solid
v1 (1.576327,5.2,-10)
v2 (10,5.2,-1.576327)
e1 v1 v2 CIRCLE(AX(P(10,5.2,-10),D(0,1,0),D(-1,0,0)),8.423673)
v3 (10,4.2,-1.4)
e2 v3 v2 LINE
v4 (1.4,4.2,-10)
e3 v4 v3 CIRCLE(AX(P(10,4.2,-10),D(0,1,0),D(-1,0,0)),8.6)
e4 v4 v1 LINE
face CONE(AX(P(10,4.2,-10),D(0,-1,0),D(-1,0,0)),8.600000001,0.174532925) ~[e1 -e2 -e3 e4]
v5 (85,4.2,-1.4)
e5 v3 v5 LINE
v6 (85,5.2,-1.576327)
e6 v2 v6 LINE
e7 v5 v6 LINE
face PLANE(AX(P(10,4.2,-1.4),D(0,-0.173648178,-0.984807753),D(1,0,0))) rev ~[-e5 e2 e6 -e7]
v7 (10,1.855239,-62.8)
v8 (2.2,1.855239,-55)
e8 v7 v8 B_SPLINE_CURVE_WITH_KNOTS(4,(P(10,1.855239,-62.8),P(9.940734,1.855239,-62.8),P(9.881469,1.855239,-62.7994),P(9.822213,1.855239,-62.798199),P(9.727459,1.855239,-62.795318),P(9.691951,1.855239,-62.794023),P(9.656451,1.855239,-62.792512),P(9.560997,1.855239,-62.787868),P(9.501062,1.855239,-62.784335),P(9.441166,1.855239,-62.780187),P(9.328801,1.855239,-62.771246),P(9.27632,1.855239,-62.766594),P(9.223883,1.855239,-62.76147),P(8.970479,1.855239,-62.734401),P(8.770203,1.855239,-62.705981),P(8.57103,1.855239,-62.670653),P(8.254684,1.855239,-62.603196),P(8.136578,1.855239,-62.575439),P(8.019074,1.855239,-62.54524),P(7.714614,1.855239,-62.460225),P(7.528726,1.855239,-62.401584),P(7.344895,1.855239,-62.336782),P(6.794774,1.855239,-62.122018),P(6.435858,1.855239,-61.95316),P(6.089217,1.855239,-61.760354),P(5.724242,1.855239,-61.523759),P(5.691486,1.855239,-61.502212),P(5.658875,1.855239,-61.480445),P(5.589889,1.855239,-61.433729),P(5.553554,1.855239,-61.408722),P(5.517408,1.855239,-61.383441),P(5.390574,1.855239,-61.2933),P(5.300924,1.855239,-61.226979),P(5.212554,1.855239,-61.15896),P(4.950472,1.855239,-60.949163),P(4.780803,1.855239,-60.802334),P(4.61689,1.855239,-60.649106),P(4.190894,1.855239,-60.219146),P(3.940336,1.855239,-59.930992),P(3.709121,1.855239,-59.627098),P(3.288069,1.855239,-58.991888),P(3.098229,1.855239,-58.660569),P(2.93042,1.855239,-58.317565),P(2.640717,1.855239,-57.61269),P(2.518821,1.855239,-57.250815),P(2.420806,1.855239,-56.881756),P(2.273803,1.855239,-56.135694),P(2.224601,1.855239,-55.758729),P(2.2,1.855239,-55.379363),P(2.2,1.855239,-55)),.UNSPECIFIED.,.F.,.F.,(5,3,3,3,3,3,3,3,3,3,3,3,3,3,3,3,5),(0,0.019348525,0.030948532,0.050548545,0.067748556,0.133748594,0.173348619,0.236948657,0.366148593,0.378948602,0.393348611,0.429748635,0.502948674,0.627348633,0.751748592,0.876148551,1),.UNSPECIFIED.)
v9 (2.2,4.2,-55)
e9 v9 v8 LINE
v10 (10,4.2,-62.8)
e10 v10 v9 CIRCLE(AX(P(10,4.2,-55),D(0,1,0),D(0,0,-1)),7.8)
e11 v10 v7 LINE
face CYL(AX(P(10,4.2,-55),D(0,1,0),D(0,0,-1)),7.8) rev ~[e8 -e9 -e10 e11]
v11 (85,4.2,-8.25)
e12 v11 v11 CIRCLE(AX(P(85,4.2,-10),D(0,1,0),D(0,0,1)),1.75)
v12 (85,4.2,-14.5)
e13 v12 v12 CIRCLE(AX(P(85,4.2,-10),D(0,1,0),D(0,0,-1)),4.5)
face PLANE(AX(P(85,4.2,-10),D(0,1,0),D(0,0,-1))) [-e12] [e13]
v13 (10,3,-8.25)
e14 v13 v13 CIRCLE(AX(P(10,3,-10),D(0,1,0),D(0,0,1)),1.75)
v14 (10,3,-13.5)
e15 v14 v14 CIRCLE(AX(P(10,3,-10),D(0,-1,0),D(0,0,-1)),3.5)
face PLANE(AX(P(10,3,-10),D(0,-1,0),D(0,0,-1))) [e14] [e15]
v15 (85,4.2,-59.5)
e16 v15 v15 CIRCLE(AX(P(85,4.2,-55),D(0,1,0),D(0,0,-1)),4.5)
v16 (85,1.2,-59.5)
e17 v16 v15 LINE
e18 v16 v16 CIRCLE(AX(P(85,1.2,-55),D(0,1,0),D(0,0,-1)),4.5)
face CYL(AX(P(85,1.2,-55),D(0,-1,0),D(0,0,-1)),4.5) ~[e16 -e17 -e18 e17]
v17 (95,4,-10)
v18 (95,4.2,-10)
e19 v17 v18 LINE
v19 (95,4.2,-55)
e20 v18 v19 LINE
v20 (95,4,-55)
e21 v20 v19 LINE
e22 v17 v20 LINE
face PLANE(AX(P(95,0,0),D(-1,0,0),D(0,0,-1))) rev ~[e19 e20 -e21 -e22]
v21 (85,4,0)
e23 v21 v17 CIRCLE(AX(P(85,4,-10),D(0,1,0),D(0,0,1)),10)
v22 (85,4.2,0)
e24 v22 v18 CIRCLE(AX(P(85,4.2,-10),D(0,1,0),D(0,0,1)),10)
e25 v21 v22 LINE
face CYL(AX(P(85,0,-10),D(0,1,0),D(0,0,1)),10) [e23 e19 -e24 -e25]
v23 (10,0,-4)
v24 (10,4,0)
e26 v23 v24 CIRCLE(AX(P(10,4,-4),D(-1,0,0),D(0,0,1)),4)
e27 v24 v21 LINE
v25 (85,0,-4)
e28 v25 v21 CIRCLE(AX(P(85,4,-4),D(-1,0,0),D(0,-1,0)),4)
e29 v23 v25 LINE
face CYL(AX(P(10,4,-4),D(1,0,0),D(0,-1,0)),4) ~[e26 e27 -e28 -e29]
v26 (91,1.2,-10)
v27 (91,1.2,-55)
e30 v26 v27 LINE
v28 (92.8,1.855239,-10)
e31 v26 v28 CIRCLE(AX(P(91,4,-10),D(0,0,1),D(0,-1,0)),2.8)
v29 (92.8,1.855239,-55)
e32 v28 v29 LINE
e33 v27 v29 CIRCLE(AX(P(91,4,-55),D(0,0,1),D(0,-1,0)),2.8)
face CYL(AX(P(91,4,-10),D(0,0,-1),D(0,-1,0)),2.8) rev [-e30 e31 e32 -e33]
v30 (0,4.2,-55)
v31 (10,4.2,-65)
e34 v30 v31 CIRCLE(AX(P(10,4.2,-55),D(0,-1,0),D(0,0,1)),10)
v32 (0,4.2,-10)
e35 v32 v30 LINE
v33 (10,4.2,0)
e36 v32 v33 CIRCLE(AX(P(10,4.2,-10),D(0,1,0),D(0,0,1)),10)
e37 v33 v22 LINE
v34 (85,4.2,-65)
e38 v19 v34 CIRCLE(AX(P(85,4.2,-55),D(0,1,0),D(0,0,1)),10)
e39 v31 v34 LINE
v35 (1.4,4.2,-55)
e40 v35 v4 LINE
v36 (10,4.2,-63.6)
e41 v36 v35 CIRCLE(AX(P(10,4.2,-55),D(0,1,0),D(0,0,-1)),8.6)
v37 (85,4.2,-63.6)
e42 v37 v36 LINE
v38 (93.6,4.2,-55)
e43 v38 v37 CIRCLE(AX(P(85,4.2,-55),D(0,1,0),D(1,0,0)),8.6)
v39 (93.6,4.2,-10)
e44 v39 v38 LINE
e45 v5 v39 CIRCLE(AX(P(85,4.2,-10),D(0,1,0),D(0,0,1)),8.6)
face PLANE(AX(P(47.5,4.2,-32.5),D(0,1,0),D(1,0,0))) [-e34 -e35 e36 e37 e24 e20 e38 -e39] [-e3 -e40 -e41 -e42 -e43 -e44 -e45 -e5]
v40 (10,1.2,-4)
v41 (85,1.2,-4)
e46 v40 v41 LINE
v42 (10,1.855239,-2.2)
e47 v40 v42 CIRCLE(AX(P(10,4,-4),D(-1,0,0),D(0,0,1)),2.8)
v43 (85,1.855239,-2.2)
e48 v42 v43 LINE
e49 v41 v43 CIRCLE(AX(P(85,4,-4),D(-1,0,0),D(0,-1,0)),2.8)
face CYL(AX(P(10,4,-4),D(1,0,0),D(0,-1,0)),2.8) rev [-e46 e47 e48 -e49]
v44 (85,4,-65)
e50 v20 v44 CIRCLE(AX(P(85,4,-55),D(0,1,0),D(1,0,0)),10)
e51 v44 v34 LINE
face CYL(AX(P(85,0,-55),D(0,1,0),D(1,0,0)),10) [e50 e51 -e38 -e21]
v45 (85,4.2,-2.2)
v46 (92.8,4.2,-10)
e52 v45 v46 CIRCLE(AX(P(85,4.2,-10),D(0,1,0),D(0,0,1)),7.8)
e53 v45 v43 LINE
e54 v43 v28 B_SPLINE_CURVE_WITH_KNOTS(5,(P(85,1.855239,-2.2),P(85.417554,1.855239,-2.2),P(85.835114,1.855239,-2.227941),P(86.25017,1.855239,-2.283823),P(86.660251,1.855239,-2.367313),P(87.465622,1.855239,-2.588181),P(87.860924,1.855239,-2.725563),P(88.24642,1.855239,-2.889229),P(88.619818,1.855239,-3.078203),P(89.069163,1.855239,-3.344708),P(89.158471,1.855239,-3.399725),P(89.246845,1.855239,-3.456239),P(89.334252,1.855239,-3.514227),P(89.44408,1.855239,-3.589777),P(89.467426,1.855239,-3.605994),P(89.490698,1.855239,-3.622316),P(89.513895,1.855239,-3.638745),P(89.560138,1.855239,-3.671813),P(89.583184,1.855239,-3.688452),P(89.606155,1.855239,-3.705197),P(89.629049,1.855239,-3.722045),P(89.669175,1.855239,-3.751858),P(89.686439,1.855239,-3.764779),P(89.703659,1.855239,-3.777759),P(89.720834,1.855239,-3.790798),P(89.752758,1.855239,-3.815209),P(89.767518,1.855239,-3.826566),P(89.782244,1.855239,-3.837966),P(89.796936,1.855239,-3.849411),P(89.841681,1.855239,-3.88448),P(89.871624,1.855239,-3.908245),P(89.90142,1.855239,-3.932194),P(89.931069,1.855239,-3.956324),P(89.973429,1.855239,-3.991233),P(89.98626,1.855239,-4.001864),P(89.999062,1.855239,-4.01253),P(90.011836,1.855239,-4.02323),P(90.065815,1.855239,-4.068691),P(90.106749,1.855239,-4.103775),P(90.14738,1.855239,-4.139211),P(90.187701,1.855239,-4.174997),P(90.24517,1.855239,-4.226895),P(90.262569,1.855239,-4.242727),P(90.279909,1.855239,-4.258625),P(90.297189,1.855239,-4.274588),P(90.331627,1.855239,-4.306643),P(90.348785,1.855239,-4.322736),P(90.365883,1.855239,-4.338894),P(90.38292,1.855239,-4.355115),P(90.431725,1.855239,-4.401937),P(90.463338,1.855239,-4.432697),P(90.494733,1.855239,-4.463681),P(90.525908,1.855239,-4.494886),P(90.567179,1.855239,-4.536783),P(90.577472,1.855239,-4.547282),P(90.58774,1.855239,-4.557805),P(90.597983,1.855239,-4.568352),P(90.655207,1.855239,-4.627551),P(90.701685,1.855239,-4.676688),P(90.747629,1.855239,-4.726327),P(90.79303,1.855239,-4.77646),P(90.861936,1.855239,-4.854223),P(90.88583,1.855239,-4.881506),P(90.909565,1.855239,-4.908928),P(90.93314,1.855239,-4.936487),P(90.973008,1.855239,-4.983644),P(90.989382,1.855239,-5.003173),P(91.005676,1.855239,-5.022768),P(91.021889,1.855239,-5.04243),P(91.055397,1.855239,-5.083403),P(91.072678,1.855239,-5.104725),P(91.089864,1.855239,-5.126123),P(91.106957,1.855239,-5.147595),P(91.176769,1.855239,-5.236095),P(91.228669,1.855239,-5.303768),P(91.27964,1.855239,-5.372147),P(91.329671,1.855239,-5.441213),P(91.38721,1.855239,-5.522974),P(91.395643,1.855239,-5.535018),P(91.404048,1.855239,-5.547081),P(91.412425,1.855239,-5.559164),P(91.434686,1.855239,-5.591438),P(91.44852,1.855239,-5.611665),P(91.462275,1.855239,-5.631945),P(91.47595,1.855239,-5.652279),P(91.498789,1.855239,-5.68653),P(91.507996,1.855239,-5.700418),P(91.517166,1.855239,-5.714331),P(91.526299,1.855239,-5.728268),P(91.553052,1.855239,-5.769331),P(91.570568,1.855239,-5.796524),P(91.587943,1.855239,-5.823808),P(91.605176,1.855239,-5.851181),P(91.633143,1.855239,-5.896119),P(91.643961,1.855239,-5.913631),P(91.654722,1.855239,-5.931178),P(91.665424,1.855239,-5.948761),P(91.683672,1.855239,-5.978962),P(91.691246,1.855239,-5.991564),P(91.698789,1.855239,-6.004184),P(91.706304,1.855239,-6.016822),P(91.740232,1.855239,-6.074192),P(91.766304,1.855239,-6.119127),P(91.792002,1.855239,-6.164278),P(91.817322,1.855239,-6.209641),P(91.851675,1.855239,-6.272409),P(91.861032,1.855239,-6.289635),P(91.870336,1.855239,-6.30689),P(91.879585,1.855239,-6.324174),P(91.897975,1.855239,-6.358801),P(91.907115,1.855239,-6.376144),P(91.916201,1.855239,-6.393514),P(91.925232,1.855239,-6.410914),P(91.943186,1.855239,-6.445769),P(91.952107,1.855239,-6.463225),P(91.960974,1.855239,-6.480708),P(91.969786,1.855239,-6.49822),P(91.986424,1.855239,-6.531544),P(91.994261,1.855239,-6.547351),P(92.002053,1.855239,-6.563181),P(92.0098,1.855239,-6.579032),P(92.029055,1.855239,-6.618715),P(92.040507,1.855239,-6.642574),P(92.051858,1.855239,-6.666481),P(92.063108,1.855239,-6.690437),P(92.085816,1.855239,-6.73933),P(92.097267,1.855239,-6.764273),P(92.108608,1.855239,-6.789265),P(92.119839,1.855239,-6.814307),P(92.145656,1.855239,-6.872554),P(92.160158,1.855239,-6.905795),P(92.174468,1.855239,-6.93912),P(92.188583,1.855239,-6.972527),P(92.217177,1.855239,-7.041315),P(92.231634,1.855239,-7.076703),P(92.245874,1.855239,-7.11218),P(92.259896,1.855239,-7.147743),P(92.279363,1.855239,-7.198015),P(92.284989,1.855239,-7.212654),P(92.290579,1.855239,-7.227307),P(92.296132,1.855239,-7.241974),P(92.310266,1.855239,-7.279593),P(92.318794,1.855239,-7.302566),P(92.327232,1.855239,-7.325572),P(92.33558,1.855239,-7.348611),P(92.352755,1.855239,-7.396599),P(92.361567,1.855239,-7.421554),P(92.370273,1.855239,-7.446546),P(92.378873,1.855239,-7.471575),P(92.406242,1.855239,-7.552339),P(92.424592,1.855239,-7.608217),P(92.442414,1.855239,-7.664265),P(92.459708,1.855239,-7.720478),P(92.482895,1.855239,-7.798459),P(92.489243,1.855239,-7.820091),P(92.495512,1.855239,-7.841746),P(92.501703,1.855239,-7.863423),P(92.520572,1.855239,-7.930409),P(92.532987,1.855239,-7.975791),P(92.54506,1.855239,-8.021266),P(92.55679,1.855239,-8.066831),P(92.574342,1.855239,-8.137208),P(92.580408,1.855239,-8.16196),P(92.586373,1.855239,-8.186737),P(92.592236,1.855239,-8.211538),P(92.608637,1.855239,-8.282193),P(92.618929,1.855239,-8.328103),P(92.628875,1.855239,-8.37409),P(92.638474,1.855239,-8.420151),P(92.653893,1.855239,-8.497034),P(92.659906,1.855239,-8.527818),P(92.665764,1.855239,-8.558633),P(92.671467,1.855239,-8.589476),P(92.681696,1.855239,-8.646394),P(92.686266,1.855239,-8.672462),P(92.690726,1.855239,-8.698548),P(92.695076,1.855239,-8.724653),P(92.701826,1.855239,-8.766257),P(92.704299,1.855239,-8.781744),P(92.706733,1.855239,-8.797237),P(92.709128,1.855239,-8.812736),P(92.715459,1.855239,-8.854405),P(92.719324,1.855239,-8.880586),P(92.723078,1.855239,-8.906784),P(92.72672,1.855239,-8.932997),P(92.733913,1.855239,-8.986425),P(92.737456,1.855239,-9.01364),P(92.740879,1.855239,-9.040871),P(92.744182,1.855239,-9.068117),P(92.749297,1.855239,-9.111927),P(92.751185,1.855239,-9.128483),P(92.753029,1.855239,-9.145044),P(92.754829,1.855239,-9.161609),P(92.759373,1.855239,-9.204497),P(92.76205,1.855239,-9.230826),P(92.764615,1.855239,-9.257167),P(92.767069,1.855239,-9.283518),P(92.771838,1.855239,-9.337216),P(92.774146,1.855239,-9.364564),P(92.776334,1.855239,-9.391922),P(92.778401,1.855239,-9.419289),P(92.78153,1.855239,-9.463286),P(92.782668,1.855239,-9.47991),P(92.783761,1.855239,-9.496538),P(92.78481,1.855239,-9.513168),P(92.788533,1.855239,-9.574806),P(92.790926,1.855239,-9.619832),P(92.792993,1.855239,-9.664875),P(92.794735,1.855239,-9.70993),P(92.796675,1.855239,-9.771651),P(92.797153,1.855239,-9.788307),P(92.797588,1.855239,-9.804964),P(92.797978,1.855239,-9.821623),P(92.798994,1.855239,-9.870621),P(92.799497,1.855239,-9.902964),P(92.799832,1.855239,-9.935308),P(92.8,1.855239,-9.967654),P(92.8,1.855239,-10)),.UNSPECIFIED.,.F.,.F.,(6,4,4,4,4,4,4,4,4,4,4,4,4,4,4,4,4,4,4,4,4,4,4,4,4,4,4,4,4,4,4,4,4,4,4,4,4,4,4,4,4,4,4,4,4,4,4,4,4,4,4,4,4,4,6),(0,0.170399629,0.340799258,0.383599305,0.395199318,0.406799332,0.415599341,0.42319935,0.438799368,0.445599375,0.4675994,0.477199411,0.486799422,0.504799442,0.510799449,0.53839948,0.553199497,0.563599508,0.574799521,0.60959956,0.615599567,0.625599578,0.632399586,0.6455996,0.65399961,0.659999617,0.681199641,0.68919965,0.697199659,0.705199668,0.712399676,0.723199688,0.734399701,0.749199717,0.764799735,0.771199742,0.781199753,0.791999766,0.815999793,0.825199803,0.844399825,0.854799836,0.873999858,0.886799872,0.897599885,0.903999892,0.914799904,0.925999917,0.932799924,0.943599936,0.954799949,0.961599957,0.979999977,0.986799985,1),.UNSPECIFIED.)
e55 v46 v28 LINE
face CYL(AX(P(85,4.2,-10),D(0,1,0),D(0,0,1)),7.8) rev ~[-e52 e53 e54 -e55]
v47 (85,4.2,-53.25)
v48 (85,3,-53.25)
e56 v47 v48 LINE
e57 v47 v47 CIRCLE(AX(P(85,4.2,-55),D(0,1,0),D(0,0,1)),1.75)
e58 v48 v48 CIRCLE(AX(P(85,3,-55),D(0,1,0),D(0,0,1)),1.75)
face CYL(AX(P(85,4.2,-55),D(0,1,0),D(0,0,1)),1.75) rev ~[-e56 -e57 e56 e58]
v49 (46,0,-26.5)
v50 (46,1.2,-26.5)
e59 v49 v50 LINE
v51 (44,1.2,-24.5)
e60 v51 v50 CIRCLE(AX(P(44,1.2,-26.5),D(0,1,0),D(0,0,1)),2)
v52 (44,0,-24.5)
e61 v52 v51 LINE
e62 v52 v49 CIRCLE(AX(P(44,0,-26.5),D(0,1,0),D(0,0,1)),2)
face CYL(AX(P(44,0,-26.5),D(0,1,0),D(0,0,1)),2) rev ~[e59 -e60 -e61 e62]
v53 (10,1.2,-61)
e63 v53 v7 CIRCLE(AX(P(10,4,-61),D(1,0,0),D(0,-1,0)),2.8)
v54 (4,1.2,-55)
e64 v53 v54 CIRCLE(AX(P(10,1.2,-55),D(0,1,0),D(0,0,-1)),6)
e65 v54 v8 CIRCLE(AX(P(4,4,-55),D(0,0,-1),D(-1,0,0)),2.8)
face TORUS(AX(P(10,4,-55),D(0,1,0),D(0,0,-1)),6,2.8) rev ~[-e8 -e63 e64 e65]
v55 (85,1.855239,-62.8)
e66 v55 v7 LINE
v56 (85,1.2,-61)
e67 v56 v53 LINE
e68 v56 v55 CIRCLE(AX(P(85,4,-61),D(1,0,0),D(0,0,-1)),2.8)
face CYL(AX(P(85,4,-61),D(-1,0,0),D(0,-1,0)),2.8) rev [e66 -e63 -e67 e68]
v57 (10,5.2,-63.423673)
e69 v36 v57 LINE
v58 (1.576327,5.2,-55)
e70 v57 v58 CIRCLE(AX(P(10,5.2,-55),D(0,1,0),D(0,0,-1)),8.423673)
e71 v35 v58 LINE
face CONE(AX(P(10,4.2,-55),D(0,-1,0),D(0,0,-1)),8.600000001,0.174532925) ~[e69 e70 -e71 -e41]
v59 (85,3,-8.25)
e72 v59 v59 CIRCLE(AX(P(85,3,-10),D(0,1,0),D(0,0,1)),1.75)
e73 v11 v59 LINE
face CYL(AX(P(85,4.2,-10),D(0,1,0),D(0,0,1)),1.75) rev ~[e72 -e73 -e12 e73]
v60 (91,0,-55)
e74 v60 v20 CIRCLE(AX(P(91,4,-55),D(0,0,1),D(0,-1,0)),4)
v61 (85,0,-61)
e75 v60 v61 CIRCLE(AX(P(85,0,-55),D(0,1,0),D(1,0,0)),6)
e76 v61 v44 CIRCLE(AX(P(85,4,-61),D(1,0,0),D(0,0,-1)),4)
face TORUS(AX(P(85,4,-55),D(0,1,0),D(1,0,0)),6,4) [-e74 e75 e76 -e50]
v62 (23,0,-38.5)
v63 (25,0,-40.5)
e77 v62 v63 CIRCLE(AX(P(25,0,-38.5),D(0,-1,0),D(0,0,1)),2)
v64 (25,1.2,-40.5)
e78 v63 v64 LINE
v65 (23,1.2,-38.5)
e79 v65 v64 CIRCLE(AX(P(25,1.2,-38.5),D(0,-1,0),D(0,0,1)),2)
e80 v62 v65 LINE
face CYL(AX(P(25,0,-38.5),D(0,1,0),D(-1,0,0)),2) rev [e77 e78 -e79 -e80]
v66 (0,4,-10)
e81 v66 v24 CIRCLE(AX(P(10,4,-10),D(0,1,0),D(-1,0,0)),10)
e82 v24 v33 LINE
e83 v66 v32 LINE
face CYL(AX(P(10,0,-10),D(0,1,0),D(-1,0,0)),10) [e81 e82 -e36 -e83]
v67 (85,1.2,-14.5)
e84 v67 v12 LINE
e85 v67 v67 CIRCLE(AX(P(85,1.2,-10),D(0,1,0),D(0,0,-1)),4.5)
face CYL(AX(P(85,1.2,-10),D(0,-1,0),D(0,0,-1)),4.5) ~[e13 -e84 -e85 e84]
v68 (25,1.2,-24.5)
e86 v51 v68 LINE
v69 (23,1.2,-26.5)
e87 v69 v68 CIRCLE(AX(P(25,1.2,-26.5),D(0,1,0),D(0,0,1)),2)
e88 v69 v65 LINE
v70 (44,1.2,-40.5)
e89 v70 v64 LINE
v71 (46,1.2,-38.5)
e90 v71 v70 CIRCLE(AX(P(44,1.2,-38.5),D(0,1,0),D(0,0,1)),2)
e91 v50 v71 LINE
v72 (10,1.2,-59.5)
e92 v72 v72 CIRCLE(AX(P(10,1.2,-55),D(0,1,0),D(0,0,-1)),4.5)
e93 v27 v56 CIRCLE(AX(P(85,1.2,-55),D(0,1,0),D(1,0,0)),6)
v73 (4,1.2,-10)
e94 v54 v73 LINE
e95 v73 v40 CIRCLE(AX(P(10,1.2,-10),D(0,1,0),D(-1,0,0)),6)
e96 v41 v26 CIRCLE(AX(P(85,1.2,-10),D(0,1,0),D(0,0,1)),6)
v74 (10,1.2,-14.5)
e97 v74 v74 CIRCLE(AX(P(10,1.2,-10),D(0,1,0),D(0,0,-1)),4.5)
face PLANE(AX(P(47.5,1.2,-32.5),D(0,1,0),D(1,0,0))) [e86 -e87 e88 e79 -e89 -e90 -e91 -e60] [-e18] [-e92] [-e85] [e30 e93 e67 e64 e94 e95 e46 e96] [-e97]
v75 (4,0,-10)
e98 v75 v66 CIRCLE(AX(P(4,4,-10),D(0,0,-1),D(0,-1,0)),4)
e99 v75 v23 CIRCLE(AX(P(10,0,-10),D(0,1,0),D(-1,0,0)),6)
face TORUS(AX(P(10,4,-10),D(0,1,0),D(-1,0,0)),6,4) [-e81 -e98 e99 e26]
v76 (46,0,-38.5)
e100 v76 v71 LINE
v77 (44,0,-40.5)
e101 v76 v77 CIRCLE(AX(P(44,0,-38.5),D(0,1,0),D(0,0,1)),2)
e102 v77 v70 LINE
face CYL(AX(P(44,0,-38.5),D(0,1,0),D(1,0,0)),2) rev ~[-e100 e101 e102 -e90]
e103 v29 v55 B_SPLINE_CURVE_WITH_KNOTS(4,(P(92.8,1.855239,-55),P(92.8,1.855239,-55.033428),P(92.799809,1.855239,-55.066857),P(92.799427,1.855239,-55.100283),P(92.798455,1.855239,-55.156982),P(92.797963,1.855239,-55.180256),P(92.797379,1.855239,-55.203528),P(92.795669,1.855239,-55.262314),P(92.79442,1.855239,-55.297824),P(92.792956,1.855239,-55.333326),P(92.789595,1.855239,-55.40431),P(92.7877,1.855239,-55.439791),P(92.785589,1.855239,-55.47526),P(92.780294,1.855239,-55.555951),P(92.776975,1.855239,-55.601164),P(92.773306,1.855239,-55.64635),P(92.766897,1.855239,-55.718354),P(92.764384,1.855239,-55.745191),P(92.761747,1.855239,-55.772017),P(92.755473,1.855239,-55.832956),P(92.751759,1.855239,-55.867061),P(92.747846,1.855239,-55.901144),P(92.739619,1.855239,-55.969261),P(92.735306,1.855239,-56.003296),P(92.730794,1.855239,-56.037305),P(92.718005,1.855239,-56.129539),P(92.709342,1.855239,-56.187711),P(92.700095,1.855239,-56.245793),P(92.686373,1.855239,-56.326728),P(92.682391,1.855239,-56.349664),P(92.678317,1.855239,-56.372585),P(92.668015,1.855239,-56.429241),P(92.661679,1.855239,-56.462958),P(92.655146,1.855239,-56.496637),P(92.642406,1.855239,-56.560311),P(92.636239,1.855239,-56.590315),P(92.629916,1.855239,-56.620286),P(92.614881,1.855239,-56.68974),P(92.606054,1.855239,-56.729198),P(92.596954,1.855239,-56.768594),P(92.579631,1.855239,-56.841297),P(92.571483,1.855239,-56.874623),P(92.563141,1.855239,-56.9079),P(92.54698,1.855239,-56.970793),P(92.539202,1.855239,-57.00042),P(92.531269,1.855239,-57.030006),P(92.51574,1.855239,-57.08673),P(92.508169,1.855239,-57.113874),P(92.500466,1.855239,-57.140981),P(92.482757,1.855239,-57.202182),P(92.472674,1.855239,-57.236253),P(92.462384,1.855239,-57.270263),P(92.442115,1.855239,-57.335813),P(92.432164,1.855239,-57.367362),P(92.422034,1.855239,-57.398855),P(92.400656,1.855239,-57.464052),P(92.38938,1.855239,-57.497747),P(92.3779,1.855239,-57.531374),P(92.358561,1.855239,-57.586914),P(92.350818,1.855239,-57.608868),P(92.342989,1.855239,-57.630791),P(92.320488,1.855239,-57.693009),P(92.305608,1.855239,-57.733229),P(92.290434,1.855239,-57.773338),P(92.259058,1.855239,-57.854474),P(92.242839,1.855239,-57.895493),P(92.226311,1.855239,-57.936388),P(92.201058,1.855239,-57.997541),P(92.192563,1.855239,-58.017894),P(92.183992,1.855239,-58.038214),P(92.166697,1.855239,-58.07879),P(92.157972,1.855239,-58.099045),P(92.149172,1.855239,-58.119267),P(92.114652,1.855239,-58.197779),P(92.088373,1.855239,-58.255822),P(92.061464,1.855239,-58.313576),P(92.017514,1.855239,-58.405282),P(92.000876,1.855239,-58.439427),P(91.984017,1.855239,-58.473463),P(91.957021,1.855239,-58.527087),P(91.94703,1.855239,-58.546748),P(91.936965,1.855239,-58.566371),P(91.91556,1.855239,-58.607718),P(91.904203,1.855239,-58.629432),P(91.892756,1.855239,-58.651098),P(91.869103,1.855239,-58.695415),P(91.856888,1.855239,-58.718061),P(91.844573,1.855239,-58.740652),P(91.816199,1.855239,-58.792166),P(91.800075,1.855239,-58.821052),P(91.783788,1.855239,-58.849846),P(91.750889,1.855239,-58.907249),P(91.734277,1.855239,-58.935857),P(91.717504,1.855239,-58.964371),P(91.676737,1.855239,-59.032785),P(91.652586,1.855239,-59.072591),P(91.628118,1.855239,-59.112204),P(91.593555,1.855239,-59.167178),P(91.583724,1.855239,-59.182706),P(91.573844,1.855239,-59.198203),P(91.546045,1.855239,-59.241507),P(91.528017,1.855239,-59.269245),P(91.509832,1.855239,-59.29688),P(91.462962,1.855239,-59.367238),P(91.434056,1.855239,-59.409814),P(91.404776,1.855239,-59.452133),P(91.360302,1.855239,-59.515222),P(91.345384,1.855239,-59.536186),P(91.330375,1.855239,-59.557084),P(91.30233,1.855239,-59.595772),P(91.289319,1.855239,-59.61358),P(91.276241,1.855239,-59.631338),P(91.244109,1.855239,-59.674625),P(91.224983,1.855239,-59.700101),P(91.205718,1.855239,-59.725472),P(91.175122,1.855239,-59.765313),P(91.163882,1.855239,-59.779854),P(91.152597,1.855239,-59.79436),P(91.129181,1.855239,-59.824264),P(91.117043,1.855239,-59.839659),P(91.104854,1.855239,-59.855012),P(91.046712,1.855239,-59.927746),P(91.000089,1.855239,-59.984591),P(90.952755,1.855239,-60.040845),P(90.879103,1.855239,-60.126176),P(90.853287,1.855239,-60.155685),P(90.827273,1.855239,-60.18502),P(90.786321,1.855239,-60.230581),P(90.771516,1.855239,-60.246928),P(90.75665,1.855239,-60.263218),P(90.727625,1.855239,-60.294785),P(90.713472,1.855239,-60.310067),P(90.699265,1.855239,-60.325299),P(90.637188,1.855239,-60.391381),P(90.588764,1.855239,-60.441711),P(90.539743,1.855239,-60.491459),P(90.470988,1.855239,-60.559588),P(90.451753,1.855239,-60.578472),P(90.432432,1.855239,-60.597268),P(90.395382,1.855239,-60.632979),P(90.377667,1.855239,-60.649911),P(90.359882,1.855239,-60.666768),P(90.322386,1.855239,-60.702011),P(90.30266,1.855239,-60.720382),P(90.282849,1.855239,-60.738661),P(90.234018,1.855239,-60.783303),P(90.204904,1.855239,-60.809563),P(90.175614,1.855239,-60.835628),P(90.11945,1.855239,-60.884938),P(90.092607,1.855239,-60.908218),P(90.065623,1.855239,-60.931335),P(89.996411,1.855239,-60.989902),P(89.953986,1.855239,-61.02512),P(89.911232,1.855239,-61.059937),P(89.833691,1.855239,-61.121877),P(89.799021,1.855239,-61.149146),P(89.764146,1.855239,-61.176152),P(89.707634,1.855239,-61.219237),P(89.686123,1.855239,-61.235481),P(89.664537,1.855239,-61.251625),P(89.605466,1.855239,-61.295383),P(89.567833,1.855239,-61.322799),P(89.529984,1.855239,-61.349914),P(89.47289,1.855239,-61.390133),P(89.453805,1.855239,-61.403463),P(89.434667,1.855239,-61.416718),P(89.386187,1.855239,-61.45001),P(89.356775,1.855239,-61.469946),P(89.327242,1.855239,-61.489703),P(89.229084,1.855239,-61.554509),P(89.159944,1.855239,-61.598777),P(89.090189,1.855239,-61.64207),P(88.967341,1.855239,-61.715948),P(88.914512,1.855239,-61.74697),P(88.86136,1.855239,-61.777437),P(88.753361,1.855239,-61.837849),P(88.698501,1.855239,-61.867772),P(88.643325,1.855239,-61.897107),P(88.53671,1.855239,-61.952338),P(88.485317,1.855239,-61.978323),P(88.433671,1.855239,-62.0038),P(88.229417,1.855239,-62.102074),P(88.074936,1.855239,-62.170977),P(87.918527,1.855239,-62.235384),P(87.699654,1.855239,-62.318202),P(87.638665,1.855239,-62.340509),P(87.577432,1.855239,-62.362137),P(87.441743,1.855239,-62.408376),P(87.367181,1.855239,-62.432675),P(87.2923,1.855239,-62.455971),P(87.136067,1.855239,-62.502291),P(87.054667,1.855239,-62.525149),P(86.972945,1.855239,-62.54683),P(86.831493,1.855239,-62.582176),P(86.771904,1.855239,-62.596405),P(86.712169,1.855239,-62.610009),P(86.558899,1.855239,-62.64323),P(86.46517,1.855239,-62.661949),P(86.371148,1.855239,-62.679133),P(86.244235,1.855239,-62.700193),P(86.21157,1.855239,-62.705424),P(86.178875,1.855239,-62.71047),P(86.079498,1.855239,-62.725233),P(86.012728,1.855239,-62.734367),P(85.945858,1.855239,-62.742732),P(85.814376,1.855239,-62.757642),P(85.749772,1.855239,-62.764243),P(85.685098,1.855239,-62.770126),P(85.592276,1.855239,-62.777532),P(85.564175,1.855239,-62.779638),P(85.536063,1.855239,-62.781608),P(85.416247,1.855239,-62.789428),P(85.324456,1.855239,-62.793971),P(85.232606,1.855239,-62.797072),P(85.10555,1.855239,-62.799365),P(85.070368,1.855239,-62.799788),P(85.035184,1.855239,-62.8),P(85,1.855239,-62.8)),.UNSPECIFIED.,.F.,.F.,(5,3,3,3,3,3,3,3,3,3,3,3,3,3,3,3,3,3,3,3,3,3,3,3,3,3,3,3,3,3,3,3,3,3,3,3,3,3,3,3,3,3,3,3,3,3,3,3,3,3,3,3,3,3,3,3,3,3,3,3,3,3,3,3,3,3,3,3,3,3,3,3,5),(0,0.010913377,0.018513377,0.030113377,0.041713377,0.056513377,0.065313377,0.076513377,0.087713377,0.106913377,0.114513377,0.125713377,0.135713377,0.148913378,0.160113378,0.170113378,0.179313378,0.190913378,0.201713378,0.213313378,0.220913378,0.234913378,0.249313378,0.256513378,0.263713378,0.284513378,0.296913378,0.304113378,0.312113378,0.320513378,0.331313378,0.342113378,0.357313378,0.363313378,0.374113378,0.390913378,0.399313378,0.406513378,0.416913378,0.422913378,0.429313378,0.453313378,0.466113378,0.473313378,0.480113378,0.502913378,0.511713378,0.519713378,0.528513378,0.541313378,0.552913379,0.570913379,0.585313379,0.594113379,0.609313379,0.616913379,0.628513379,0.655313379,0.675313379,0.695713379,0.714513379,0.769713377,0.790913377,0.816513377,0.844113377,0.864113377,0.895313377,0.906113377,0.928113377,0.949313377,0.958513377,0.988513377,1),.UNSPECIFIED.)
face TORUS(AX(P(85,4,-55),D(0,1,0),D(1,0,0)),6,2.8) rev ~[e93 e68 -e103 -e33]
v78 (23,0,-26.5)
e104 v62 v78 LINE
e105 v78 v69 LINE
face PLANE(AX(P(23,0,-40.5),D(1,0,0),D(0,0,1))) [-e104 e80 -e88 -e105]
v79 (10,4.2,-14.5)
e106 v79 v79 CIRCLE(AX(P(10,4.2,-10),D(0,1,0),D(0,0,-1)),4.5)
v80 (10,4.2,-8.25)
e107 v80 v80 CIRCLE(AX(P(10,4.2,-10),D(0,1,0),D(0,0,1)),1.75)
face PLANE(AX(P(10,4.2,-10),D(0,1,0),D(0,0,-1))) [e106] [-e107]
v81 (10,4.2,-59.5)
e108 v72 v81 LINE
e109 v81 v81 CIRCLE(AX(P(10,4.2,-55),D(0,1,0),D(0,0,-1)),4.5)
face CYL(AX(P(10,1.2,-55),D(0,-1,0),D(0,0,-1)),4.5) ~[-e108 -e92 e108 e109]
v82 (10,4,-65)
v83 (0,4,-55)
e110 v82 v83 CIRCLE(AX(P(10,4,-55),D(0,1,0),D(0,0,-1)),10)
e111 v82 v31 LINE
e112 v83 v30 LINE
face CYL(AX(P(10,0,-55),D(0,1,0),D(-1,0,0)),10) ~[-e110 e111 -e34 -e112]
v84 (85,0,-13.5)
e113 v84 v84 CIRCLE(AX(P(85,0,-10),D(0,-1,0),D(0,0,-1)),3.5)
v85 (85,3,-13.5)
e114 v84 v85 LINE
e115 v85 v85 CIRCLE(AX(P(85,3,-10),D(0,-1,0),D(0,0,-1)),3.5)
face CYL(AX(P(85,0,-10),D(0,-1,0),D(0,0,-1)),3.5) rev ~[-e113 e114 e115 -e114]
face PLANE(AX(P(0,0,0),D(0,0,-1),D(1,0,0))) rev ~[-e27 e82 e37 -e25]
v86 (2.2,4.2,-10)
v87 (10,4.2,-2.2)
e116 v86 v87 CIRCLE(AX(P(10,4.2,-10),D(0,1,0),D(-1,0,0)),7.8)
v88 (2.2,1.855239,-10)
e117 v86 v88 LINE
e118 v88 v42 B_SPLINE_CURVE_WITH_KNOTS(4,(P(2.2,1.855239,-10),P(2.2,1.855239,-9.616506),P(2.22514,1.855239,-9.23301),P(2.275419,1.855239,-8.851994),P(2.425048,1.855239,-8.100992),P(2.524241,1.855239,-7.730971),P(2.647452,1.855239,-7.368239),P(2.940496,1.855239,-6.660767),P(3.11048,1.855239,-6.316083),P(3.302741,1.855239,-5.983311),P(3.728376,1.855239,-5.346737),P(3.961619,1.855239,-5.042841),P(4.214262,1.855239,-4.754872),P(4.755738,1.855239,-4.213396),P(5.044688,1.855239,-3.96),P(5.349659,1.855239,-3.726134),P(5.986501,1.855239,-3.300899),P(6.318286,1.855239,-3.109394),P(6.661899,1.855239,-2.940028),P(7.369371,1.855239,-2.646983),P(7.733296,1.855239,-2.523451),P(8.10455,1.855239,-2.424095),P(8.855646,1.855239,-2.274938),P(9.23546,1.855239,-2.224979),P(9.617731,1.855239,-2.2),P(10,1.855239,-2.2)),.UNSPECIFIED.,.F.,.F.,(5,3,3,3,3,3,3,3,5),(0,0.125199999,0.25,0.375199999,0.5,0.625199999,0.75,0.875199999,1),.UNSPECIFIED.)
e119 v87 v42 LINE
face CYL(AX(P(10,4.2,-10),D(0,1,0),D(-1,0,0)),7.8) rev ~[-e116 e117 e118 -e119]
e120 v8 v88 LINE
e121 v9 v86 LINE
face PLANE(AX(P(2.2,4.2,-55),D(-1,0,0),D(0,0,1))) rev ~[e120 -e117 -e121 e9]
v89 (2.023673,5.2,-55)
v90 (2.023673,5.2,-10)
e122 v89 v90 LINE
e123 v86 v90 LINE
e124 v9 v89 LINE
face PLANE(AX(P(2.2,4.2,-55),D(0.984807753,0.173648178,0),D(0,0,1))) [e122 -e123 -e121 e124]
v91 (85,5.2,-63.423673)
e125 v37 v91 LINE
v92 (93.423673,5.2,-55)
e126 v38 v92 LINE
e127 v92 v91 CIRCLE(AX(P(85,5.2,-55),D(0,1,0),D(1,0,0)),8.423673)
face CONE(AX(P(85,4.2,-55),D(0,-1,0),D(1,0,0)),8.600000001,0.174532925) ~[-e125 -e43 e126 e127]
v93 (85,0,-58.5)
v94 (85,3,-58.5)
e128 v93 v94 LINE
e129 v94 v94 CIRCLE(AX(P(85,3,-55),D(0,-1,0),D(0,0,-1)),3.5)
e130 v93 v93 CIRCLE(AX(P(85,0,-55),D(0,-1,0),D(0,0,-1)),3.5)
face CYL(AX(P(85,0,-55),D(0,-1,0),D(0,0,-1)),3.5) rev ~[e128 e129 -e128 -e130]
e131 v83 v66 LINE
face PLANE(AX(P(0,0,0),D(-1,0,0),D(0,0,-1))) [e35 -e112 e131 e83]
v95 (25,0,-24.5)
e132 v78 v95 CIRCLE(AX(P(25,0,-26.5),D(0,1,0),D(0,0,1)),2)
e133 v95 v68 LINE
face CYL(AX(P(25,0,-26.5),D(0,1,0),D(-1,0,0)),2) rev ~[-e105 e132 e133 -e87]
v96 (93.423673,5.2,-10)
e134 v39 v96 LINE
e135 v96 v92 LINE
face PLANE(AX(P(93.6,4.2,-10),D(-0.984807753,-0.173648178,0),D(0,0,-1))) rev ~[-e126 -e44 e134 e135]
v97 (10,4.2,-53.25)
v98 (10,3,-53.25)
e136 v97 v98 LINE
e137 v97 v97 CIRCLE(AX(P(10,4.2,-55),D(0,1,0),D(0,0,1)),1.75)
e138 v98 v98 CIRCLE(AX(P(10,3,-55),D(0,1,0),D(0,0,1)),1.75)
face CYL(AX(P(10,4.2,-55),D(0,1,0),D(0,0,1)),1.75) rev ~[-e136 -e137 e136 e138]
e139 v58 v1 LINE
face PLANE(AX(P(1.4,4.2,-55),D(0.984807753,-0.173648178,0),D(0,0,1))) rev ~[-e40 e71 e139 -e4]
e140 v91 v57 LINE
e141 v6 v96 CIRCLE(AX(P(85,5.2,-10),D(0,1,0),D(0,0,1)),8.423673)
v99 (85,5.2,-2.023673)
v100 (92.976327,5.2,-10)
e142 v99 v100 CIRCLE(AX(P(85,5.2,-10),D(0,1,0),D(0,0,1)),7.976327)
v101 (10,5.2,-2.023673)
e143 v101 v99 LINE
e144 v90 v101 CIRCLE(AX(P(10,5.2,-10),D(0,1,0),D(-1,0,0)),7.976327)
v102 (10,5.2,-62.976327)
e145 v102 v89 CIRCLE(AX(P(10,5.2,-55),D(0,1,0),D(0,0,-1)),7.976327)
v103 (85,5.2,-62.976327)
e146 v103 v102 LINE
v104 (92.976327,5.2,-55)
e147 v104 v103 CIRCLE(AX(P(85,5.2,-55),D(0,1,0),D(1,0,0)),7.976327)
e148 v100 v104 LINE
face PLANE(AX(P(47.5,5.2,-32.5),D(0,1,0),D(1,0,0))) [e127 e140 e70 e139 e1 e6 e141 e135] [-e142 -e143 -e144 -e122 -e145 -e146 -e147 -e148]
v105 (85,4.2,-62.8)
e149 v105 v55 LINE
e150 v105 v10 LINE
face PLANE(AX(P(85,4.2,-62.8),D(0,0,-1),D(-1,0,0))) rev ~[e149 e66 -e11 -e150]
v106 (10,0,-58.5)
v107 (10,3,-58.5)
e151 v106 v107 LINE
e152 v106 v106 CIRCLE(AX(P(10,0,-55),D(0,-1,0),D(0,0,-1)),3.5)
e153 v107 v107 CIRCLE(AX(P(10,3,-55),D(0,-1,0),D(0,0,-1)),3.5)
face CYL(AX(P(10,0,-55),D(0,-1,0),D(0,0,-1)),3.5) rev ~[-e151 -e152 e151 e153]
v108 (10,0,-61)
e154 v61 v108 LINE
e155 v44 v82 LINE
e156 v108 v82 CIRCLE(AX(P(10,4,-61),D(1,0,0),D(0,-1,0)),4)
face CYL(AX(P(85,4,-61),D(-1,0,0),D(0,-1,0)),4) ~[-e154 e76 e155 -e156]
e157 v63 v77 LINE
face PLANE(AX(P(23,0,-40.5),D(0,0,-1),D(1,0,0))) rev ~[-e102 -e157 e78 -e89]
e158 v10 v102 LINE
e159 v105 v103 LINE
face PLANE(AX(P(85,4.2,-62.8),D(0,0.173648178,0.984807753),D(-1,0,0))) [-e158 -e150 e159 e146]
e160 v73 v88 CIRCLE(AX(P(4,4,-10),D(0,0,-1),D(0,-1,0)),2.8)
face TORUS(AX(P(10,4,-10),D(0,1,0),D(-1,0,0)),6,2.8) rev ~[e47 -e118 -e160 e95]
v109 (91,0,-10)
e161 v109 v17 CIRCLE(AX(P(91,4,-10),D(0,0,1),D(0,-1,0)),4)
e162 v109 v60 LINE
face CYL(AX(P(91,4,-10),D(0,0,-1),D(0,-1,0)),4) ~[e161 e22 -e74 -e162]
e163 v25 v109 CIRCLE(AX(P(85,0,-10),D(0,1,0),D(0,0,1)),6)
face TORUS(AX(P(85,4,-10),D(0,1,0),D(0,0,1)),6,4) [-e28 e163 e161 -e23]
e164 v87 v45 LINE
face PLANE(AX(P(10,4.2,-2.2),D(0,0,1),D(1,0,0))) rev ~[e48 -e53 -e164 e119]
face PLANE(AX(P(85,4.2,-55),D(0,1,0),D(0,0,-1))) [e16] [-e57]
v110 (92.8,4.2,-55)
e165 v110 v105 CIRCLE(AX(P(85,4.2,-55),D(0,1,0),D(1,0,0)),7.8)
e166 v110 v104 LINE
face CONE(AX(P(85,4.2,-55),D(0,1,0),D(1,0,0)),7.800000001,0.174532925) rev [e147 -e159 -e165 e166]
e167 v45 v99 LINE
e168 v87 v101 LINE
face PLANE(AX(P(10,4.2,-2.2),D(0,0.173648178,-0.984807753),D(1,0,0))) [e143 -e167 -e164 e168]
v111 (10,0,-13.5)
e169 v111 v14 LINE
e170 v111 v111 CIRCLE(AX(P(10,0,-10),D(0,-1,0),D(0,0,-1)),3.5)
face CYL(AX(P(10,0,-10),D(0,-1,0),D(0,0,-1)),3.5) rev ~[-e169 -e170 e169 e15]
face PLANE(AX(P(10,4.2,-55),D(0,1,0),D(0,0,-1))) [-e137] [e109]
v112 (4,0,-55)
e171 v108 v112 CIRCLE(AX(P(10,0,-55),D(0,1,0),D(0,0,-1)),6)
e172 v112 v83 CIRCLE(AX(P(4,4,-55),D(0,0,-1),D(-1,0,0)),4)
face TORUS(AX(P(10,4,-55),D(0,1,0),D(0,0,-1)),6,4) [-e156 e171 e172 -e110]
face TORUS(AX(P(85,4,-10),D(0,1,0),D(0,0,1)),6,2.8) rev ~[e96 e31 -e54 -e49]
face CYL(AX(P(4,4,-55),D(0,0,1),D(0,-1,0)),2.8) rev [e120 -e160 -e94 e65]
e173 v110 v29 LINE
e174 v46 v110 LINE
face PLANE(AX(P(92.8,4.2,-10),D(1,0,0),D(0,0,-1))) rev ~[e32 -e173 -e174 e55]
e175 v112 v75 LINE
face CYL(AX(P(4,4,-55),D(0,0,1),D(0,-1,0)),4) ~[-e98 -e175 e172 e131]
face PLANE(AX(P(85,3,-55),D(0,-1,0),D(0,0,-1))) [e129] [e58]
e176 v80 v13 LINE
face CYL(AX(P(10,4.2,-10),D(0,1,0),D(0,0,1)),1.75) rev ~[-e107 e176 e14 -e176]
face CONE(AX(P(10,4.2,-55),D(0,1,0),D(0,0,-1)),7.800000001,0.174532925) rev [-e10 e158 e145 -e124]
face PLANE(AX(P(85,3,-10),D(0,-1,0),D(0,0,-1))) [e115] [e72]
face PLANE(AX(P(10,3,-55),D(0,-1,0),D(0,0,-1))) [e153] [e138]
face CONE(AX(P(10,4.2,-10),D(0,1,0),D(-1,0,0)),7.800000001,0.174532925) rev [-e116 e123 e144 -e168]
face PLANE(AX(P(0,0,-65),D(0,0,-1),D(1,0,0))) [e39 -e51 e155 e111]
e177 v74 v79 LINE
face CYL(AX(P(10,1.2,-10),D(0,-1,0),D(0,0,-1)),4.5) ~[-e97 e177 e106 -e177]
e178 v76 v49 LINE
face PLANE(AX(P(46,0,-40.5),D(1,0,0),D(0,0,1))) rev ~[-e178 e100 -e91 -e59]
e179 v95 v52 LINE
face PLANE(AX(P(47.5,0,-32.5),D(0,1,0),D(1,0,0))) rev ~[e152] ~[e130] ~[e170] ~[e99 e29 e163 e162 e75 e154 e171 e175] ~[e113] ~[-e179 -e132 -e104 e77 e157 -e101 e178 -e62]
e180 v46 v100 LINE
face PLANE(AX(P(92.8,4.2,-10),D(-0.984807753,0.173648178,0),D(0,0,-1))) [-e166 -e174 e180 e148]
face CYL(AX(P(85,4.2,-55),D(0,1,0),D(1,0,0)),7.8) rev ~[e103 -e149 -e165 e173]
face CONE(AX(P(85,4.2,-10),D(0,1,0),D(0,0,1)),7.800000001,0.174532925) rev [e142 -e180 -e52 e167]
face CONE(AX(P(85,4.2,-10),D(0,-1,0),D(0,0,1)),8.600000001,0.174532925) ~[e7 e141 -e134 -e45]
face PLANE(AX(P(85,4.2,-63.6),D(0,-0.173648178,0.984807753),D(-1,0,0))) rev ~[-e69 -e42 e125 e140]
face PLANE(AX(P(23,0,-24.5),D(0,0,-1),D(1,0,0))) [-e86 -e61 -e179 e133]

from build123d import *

# Parameters (mm, degrees)
SKETCH1_W           = 95
SKETCH1_H           = 65
BOSS_EXTRUDE1_DEPTH = 4.2
FILLET1_R           = 10
FILLET2_R           = 4
SHELL1_T            = -1.2
SKETCH5_R           = 4.5
BOSS_EXTRUDE3_DEPTH = 3
SKETCH7_R           = 1.75
CUT_EXTRUDE2_DEPTH  = 10
BOSS_EXTRUDE4_REACH = 117.185
BOSS_EXTRUDE5_DEPTH = 1
BOSS_EXTRUDE5_DRAFT = 10
SKETCH12_R          = 3.5
CUT_EXTRUDE3_DEPTH  = 3
SKETCH13_W          = 23
SKETCH13_H          = 16
CUT_EXTRUDE4_DEPTH  = 116.226038806
FILLET3_R           = 2


with BuildPart() as part:
    # Sketch1 → Boss-Extrude1 (new body)
    with BuildSketch(Plane(origin=(0, 0, 0), x_dir=(1, 0, 0), z_dir=(0, 1, 0))):
        with Locations((47.5, 32.5)):
            Rectangle(SKETCH1_W, SKETCH1_H)
    extrude(amount=BOSS_EXTRUDE1_DEPTH)

    # Fillet1
    fillet1_edges = [part.edges().sort_by_distance(p)[0] for p in [
        (0, 2.1, -65),
        (95, 2.1, -65),
        (95, 2.1, 0),
        (0, 2.1, 0),
    ]]
    fillet(fillet1_edges, radius=FILLET1_R)

    # Fillet2
    fillet2_edges = [part.edges().sort_by_distance(p)[0] for p in [
        (95, 0, -32.5),
        (0, 0, -32.5),
        (47.5, 0, -65),
        (47.5, 0, 0),
        (2.928932188, 0, -2.928932188),
        (2.928932188, 0, -62.071067812),
        (92.071067812, 0, -62.071067812),
        (92.071067812, 0, -2.928932188),
    ]]
    fillet(fillet2_edges, radius=FILLET2_R)

    # Shell1
    shell1_openings = [part.faces().sort_by_distance(p)[0] for p in [
        (47.5, 4.2, -32.5),
    ]]
    offset(amount=SHELL1_T, openings=shell1_openings, kind=Kind.INTERSECTION)

    # Sketch5 → Boss-Extrude3 (add)
    with BuildSketch(Plane(origin=(0, 1.2, 0), x_dir=(1, 0, 0), z_dir=(0, 1, 0))):
        with Locations(Location((10, 55, 0), (0, 0, 90))):
            Circle(SKETCH5_R)
        with Locations(Location((85, 55, 0), (0, 0, 90))):
            Circle(SKETCH5_R)
        with Locations(Location((85, 10, 0), (0, 0, 90))):
            Circle(SKETCH5_R)
        with Locations(Location((10, 10, 0), (0, 0, 90))):
            Circle(SKETCH5_R)
    extrude(amount=BOSS_EXTRUDE3_DEPTH)

    # Sketch7 → Cut-Extrude2 (cut)
    with BuildSketch(Plane(origin=(0, 4.2, 0), x_dir=(1, 0, 0), z_dir=(0, 1, 0))):
        with Locations(Location((10, 55, 0), (0, 0, 270))):
            Circle(SKETCH7_R)
        with Locations(Location((85, 55, 0), (0, 0, 270))):
            Circle(SKETCH7_R)
        with Locations(Location((85, 10, 0), (0, 0, 270))):
            Circle(SKETCH7_R)
        with Locations(Location((10, 10, 0), (0, 0, 270))):
            Circle(SKETCH7_R)
    extrude(amount=-CUT_EXTRUDE2_DEPTH, mode=Mode.SUBTRACT)

    # Sketch8 → Boss-Extrude4 (add, up to next)
    with BuildSketch(Plane(origin=(0, 4.2, 0), x_dir=(1, 0, 0), z_dir=(0, 1, 0)), mode=Mode.PRIVATE) as boss_extrude4_sk1:
        with BuildLine():
            Line((1.2, 55), (1.2, 10))
            ThreePointArc((1.2, 10), (3.777460326, 3.777460326), (10, 1.2))
            Line((10, 1.2), (85, 1.2))
            ThreePointArc((85, 1.2), (91.222539674, 3.777460326), (93.8, 10))
            Line((93.8, 10), (93.8, 55))
            ThreePointArc((93.8, 55), (91.222539674, 61.222539674), (85, 63.8))
            Line((85, 63.8), (10, 63.8))
            ThreePointArc((10, 63.8), (3.777460326, 61.222539674), (1.2, 55))
        make_face()
        with BuildLine():
            Line((85, 62.8), (10, 62.8))
            ThreePointArc((10, 62.8), (4.484567107, 60.515432893), (2.2, 55))
            Line((2.2, 55), (2.2, 10))
            ThreePointArc((2.2, 10), (4.484567107, 4.484567107), (10, 2.2))
            Line((10, 2.2), (85, 2.2))
            ThreePointArc((85, 2.2), (90.515432893, 4.484567107), (92.8, 10))
            Line((92.8, 10), (92.8, 55))
            ThreePointArc((92.8, 55), (90.515432893, 60.515432893), (85, 62.8))
        make_face(mode=Mode.SUBTRACT)
    boss_extrude4_tool1 = extrude(boss_extrude4_sk1.sketch, amount=-BOSS_EXTRUDE4_REACH, mode=Mode.PRIVATE) - part.part
    add(boss_extrude4_tool1.solids().sort_by_distance((1.311774, 4.2, -32.5))[0])


with BuildPart() as boss_extrude5_tool:
    # Sketch11 → Boss-Extrude5 (with draft: the straight prism first)
    with BuildSketch(Plane(origin=(0, 4.2, 0), x_dir=(1, 0, 0), z_dir=(0, 1, 0))):
        with BuildLine():
            Line((93.6, 10), (93.6, 55))
            ThreePointArc((93.6, 55), (91.081118318, 61.081118318), (85, 63.6))
            Line((85, 63.6), (10, 63.6))
            ThreePointArc((10, 63.6), (3.918881682, 61.081118318), (1.4, 55))
            Line((1.4, 55), (1.4, 10))
            ThreePointArc((1.4, 10), (3.918881682, 3.918881682), (10, 1.4))
            Line((10, 1.4), (85, 1.4))
            ThreePointArc((85, 1.4), (91.081118318, 3.918881682), (93.6, 10))
        make_face()
        with BuildLine():
            Line((92.8, 10), (92.8, 55))
            ThreePointArc((92.8, 55), (90.515432893, 60.515432893), (85, 62.8))
            Line((85, 62.8), (10, 62.8))
            ThreePointArc((10, 62.8), (4.484567107, 60.515432893), (2.2, 55))
            Line((2.2, 55), (2.2, 10))
            ThreePointArc((2.2, 10), (4.484567107, 4.484567107), (10, 2.2))
            Line((10, 2.2), (85, 2.2))
            ThreePointArc((85, 2.2), (90.515432893, 4.484567107), (92.8, 10))
        make_face(mode=Mode.SUBTRACT)
    extrude(amount=BOSS_EXTRUDE5_DEPTH)
    # Boss-Extrude5: the draft: its side faces are tilted about the plane it starts from
    boss_extrude5_sides = [boss_extrude5_tool.faces().sort_by_distance(p)[0] for p in [
        (91.081118318, 4.7, -3.918881682),
        (93.6, 4.7, -32.5),
        (91.081118318, 4.7, -61.081118318),
        (47.5, 4.7, -63.6),
        (3.918881682, 4.7, -61.081118318),
        (1.4, 4.7, -32.5),
        (3.918881682, 4.7, -3.918881682),
        (47.5, 4.7, -1.4),
        (47.5, 4.7, -2.2),
        (4.484567107, 4.7, -4.484567107),
        (2.2, 4.7, -32.5),
        (4.484567107, 4.7, -60.515432893),
        (47.5, 4.7, -62.8),
        (90.515432893, 4.7, -60.515432893),
        (92.8, 4.7, -32.5),
        (90.515432893, 4.7, -4.484567107),
    ]]
    draft(boss_extrude5_sides, Plane(origin=(0, 4.2, 0), x_dir=(1, 0, 0), z_dir=(0, 1, 0)), BOSS_EXTRUDE5_DRAFT)


with BuildPart() as part_1:
    add(part.part)

    # Boss-Extrude5: add boss_extrude5_tool
    add(boss_extrude5_tool.part)

    # Sketch12 → Cut-Extrude3 (cut)
    with BuildSketch(Plane.XZ):
        with Locations(Location((10, -10, 0), (0, 0, 270))):
            Circle(SKETCH12_R)
        with Locations(Location((85, -10, 0), (0, 0, 270))):
            Circle(SKETCH12_R)
        with Locations(Location((85, -55, 0), (0, 0, 270))):
            Circle(SKETCH12_R)
        with Locations(Location((10, -55, 0), (0, 0, 270))):
            Circle(SKETCH12_R)
    extrude(amount=-CUT_EXTRUDE3_DEPTH, mode=Mode.SUBTRACT)

    # Sketch13 → Cut-Extrude4 (cut, through all)
    with BuildSketch(Plane.XZ):
        with Locations((34.5, -32.5)):
            Rectangle(SKETCH13_W, SKETCH13_H)
    extrude(amount=-CUT_EXTRUDE4_DEPTH, mode=Mode.SUBTRACT)

    # Fillet3
    fillet3_edges = [part_1.edges().sort_by_distance(p)[0] for p in [
        (46, 0.6, -24.5),
        (46, 0.6, -40.5),
        (23, 0.6, -40.5),
        (23, 0.6, -24.5),
    ]]
    fillet(fillet3_edges, radius=FILLET3_R)


solid = part_1.part
